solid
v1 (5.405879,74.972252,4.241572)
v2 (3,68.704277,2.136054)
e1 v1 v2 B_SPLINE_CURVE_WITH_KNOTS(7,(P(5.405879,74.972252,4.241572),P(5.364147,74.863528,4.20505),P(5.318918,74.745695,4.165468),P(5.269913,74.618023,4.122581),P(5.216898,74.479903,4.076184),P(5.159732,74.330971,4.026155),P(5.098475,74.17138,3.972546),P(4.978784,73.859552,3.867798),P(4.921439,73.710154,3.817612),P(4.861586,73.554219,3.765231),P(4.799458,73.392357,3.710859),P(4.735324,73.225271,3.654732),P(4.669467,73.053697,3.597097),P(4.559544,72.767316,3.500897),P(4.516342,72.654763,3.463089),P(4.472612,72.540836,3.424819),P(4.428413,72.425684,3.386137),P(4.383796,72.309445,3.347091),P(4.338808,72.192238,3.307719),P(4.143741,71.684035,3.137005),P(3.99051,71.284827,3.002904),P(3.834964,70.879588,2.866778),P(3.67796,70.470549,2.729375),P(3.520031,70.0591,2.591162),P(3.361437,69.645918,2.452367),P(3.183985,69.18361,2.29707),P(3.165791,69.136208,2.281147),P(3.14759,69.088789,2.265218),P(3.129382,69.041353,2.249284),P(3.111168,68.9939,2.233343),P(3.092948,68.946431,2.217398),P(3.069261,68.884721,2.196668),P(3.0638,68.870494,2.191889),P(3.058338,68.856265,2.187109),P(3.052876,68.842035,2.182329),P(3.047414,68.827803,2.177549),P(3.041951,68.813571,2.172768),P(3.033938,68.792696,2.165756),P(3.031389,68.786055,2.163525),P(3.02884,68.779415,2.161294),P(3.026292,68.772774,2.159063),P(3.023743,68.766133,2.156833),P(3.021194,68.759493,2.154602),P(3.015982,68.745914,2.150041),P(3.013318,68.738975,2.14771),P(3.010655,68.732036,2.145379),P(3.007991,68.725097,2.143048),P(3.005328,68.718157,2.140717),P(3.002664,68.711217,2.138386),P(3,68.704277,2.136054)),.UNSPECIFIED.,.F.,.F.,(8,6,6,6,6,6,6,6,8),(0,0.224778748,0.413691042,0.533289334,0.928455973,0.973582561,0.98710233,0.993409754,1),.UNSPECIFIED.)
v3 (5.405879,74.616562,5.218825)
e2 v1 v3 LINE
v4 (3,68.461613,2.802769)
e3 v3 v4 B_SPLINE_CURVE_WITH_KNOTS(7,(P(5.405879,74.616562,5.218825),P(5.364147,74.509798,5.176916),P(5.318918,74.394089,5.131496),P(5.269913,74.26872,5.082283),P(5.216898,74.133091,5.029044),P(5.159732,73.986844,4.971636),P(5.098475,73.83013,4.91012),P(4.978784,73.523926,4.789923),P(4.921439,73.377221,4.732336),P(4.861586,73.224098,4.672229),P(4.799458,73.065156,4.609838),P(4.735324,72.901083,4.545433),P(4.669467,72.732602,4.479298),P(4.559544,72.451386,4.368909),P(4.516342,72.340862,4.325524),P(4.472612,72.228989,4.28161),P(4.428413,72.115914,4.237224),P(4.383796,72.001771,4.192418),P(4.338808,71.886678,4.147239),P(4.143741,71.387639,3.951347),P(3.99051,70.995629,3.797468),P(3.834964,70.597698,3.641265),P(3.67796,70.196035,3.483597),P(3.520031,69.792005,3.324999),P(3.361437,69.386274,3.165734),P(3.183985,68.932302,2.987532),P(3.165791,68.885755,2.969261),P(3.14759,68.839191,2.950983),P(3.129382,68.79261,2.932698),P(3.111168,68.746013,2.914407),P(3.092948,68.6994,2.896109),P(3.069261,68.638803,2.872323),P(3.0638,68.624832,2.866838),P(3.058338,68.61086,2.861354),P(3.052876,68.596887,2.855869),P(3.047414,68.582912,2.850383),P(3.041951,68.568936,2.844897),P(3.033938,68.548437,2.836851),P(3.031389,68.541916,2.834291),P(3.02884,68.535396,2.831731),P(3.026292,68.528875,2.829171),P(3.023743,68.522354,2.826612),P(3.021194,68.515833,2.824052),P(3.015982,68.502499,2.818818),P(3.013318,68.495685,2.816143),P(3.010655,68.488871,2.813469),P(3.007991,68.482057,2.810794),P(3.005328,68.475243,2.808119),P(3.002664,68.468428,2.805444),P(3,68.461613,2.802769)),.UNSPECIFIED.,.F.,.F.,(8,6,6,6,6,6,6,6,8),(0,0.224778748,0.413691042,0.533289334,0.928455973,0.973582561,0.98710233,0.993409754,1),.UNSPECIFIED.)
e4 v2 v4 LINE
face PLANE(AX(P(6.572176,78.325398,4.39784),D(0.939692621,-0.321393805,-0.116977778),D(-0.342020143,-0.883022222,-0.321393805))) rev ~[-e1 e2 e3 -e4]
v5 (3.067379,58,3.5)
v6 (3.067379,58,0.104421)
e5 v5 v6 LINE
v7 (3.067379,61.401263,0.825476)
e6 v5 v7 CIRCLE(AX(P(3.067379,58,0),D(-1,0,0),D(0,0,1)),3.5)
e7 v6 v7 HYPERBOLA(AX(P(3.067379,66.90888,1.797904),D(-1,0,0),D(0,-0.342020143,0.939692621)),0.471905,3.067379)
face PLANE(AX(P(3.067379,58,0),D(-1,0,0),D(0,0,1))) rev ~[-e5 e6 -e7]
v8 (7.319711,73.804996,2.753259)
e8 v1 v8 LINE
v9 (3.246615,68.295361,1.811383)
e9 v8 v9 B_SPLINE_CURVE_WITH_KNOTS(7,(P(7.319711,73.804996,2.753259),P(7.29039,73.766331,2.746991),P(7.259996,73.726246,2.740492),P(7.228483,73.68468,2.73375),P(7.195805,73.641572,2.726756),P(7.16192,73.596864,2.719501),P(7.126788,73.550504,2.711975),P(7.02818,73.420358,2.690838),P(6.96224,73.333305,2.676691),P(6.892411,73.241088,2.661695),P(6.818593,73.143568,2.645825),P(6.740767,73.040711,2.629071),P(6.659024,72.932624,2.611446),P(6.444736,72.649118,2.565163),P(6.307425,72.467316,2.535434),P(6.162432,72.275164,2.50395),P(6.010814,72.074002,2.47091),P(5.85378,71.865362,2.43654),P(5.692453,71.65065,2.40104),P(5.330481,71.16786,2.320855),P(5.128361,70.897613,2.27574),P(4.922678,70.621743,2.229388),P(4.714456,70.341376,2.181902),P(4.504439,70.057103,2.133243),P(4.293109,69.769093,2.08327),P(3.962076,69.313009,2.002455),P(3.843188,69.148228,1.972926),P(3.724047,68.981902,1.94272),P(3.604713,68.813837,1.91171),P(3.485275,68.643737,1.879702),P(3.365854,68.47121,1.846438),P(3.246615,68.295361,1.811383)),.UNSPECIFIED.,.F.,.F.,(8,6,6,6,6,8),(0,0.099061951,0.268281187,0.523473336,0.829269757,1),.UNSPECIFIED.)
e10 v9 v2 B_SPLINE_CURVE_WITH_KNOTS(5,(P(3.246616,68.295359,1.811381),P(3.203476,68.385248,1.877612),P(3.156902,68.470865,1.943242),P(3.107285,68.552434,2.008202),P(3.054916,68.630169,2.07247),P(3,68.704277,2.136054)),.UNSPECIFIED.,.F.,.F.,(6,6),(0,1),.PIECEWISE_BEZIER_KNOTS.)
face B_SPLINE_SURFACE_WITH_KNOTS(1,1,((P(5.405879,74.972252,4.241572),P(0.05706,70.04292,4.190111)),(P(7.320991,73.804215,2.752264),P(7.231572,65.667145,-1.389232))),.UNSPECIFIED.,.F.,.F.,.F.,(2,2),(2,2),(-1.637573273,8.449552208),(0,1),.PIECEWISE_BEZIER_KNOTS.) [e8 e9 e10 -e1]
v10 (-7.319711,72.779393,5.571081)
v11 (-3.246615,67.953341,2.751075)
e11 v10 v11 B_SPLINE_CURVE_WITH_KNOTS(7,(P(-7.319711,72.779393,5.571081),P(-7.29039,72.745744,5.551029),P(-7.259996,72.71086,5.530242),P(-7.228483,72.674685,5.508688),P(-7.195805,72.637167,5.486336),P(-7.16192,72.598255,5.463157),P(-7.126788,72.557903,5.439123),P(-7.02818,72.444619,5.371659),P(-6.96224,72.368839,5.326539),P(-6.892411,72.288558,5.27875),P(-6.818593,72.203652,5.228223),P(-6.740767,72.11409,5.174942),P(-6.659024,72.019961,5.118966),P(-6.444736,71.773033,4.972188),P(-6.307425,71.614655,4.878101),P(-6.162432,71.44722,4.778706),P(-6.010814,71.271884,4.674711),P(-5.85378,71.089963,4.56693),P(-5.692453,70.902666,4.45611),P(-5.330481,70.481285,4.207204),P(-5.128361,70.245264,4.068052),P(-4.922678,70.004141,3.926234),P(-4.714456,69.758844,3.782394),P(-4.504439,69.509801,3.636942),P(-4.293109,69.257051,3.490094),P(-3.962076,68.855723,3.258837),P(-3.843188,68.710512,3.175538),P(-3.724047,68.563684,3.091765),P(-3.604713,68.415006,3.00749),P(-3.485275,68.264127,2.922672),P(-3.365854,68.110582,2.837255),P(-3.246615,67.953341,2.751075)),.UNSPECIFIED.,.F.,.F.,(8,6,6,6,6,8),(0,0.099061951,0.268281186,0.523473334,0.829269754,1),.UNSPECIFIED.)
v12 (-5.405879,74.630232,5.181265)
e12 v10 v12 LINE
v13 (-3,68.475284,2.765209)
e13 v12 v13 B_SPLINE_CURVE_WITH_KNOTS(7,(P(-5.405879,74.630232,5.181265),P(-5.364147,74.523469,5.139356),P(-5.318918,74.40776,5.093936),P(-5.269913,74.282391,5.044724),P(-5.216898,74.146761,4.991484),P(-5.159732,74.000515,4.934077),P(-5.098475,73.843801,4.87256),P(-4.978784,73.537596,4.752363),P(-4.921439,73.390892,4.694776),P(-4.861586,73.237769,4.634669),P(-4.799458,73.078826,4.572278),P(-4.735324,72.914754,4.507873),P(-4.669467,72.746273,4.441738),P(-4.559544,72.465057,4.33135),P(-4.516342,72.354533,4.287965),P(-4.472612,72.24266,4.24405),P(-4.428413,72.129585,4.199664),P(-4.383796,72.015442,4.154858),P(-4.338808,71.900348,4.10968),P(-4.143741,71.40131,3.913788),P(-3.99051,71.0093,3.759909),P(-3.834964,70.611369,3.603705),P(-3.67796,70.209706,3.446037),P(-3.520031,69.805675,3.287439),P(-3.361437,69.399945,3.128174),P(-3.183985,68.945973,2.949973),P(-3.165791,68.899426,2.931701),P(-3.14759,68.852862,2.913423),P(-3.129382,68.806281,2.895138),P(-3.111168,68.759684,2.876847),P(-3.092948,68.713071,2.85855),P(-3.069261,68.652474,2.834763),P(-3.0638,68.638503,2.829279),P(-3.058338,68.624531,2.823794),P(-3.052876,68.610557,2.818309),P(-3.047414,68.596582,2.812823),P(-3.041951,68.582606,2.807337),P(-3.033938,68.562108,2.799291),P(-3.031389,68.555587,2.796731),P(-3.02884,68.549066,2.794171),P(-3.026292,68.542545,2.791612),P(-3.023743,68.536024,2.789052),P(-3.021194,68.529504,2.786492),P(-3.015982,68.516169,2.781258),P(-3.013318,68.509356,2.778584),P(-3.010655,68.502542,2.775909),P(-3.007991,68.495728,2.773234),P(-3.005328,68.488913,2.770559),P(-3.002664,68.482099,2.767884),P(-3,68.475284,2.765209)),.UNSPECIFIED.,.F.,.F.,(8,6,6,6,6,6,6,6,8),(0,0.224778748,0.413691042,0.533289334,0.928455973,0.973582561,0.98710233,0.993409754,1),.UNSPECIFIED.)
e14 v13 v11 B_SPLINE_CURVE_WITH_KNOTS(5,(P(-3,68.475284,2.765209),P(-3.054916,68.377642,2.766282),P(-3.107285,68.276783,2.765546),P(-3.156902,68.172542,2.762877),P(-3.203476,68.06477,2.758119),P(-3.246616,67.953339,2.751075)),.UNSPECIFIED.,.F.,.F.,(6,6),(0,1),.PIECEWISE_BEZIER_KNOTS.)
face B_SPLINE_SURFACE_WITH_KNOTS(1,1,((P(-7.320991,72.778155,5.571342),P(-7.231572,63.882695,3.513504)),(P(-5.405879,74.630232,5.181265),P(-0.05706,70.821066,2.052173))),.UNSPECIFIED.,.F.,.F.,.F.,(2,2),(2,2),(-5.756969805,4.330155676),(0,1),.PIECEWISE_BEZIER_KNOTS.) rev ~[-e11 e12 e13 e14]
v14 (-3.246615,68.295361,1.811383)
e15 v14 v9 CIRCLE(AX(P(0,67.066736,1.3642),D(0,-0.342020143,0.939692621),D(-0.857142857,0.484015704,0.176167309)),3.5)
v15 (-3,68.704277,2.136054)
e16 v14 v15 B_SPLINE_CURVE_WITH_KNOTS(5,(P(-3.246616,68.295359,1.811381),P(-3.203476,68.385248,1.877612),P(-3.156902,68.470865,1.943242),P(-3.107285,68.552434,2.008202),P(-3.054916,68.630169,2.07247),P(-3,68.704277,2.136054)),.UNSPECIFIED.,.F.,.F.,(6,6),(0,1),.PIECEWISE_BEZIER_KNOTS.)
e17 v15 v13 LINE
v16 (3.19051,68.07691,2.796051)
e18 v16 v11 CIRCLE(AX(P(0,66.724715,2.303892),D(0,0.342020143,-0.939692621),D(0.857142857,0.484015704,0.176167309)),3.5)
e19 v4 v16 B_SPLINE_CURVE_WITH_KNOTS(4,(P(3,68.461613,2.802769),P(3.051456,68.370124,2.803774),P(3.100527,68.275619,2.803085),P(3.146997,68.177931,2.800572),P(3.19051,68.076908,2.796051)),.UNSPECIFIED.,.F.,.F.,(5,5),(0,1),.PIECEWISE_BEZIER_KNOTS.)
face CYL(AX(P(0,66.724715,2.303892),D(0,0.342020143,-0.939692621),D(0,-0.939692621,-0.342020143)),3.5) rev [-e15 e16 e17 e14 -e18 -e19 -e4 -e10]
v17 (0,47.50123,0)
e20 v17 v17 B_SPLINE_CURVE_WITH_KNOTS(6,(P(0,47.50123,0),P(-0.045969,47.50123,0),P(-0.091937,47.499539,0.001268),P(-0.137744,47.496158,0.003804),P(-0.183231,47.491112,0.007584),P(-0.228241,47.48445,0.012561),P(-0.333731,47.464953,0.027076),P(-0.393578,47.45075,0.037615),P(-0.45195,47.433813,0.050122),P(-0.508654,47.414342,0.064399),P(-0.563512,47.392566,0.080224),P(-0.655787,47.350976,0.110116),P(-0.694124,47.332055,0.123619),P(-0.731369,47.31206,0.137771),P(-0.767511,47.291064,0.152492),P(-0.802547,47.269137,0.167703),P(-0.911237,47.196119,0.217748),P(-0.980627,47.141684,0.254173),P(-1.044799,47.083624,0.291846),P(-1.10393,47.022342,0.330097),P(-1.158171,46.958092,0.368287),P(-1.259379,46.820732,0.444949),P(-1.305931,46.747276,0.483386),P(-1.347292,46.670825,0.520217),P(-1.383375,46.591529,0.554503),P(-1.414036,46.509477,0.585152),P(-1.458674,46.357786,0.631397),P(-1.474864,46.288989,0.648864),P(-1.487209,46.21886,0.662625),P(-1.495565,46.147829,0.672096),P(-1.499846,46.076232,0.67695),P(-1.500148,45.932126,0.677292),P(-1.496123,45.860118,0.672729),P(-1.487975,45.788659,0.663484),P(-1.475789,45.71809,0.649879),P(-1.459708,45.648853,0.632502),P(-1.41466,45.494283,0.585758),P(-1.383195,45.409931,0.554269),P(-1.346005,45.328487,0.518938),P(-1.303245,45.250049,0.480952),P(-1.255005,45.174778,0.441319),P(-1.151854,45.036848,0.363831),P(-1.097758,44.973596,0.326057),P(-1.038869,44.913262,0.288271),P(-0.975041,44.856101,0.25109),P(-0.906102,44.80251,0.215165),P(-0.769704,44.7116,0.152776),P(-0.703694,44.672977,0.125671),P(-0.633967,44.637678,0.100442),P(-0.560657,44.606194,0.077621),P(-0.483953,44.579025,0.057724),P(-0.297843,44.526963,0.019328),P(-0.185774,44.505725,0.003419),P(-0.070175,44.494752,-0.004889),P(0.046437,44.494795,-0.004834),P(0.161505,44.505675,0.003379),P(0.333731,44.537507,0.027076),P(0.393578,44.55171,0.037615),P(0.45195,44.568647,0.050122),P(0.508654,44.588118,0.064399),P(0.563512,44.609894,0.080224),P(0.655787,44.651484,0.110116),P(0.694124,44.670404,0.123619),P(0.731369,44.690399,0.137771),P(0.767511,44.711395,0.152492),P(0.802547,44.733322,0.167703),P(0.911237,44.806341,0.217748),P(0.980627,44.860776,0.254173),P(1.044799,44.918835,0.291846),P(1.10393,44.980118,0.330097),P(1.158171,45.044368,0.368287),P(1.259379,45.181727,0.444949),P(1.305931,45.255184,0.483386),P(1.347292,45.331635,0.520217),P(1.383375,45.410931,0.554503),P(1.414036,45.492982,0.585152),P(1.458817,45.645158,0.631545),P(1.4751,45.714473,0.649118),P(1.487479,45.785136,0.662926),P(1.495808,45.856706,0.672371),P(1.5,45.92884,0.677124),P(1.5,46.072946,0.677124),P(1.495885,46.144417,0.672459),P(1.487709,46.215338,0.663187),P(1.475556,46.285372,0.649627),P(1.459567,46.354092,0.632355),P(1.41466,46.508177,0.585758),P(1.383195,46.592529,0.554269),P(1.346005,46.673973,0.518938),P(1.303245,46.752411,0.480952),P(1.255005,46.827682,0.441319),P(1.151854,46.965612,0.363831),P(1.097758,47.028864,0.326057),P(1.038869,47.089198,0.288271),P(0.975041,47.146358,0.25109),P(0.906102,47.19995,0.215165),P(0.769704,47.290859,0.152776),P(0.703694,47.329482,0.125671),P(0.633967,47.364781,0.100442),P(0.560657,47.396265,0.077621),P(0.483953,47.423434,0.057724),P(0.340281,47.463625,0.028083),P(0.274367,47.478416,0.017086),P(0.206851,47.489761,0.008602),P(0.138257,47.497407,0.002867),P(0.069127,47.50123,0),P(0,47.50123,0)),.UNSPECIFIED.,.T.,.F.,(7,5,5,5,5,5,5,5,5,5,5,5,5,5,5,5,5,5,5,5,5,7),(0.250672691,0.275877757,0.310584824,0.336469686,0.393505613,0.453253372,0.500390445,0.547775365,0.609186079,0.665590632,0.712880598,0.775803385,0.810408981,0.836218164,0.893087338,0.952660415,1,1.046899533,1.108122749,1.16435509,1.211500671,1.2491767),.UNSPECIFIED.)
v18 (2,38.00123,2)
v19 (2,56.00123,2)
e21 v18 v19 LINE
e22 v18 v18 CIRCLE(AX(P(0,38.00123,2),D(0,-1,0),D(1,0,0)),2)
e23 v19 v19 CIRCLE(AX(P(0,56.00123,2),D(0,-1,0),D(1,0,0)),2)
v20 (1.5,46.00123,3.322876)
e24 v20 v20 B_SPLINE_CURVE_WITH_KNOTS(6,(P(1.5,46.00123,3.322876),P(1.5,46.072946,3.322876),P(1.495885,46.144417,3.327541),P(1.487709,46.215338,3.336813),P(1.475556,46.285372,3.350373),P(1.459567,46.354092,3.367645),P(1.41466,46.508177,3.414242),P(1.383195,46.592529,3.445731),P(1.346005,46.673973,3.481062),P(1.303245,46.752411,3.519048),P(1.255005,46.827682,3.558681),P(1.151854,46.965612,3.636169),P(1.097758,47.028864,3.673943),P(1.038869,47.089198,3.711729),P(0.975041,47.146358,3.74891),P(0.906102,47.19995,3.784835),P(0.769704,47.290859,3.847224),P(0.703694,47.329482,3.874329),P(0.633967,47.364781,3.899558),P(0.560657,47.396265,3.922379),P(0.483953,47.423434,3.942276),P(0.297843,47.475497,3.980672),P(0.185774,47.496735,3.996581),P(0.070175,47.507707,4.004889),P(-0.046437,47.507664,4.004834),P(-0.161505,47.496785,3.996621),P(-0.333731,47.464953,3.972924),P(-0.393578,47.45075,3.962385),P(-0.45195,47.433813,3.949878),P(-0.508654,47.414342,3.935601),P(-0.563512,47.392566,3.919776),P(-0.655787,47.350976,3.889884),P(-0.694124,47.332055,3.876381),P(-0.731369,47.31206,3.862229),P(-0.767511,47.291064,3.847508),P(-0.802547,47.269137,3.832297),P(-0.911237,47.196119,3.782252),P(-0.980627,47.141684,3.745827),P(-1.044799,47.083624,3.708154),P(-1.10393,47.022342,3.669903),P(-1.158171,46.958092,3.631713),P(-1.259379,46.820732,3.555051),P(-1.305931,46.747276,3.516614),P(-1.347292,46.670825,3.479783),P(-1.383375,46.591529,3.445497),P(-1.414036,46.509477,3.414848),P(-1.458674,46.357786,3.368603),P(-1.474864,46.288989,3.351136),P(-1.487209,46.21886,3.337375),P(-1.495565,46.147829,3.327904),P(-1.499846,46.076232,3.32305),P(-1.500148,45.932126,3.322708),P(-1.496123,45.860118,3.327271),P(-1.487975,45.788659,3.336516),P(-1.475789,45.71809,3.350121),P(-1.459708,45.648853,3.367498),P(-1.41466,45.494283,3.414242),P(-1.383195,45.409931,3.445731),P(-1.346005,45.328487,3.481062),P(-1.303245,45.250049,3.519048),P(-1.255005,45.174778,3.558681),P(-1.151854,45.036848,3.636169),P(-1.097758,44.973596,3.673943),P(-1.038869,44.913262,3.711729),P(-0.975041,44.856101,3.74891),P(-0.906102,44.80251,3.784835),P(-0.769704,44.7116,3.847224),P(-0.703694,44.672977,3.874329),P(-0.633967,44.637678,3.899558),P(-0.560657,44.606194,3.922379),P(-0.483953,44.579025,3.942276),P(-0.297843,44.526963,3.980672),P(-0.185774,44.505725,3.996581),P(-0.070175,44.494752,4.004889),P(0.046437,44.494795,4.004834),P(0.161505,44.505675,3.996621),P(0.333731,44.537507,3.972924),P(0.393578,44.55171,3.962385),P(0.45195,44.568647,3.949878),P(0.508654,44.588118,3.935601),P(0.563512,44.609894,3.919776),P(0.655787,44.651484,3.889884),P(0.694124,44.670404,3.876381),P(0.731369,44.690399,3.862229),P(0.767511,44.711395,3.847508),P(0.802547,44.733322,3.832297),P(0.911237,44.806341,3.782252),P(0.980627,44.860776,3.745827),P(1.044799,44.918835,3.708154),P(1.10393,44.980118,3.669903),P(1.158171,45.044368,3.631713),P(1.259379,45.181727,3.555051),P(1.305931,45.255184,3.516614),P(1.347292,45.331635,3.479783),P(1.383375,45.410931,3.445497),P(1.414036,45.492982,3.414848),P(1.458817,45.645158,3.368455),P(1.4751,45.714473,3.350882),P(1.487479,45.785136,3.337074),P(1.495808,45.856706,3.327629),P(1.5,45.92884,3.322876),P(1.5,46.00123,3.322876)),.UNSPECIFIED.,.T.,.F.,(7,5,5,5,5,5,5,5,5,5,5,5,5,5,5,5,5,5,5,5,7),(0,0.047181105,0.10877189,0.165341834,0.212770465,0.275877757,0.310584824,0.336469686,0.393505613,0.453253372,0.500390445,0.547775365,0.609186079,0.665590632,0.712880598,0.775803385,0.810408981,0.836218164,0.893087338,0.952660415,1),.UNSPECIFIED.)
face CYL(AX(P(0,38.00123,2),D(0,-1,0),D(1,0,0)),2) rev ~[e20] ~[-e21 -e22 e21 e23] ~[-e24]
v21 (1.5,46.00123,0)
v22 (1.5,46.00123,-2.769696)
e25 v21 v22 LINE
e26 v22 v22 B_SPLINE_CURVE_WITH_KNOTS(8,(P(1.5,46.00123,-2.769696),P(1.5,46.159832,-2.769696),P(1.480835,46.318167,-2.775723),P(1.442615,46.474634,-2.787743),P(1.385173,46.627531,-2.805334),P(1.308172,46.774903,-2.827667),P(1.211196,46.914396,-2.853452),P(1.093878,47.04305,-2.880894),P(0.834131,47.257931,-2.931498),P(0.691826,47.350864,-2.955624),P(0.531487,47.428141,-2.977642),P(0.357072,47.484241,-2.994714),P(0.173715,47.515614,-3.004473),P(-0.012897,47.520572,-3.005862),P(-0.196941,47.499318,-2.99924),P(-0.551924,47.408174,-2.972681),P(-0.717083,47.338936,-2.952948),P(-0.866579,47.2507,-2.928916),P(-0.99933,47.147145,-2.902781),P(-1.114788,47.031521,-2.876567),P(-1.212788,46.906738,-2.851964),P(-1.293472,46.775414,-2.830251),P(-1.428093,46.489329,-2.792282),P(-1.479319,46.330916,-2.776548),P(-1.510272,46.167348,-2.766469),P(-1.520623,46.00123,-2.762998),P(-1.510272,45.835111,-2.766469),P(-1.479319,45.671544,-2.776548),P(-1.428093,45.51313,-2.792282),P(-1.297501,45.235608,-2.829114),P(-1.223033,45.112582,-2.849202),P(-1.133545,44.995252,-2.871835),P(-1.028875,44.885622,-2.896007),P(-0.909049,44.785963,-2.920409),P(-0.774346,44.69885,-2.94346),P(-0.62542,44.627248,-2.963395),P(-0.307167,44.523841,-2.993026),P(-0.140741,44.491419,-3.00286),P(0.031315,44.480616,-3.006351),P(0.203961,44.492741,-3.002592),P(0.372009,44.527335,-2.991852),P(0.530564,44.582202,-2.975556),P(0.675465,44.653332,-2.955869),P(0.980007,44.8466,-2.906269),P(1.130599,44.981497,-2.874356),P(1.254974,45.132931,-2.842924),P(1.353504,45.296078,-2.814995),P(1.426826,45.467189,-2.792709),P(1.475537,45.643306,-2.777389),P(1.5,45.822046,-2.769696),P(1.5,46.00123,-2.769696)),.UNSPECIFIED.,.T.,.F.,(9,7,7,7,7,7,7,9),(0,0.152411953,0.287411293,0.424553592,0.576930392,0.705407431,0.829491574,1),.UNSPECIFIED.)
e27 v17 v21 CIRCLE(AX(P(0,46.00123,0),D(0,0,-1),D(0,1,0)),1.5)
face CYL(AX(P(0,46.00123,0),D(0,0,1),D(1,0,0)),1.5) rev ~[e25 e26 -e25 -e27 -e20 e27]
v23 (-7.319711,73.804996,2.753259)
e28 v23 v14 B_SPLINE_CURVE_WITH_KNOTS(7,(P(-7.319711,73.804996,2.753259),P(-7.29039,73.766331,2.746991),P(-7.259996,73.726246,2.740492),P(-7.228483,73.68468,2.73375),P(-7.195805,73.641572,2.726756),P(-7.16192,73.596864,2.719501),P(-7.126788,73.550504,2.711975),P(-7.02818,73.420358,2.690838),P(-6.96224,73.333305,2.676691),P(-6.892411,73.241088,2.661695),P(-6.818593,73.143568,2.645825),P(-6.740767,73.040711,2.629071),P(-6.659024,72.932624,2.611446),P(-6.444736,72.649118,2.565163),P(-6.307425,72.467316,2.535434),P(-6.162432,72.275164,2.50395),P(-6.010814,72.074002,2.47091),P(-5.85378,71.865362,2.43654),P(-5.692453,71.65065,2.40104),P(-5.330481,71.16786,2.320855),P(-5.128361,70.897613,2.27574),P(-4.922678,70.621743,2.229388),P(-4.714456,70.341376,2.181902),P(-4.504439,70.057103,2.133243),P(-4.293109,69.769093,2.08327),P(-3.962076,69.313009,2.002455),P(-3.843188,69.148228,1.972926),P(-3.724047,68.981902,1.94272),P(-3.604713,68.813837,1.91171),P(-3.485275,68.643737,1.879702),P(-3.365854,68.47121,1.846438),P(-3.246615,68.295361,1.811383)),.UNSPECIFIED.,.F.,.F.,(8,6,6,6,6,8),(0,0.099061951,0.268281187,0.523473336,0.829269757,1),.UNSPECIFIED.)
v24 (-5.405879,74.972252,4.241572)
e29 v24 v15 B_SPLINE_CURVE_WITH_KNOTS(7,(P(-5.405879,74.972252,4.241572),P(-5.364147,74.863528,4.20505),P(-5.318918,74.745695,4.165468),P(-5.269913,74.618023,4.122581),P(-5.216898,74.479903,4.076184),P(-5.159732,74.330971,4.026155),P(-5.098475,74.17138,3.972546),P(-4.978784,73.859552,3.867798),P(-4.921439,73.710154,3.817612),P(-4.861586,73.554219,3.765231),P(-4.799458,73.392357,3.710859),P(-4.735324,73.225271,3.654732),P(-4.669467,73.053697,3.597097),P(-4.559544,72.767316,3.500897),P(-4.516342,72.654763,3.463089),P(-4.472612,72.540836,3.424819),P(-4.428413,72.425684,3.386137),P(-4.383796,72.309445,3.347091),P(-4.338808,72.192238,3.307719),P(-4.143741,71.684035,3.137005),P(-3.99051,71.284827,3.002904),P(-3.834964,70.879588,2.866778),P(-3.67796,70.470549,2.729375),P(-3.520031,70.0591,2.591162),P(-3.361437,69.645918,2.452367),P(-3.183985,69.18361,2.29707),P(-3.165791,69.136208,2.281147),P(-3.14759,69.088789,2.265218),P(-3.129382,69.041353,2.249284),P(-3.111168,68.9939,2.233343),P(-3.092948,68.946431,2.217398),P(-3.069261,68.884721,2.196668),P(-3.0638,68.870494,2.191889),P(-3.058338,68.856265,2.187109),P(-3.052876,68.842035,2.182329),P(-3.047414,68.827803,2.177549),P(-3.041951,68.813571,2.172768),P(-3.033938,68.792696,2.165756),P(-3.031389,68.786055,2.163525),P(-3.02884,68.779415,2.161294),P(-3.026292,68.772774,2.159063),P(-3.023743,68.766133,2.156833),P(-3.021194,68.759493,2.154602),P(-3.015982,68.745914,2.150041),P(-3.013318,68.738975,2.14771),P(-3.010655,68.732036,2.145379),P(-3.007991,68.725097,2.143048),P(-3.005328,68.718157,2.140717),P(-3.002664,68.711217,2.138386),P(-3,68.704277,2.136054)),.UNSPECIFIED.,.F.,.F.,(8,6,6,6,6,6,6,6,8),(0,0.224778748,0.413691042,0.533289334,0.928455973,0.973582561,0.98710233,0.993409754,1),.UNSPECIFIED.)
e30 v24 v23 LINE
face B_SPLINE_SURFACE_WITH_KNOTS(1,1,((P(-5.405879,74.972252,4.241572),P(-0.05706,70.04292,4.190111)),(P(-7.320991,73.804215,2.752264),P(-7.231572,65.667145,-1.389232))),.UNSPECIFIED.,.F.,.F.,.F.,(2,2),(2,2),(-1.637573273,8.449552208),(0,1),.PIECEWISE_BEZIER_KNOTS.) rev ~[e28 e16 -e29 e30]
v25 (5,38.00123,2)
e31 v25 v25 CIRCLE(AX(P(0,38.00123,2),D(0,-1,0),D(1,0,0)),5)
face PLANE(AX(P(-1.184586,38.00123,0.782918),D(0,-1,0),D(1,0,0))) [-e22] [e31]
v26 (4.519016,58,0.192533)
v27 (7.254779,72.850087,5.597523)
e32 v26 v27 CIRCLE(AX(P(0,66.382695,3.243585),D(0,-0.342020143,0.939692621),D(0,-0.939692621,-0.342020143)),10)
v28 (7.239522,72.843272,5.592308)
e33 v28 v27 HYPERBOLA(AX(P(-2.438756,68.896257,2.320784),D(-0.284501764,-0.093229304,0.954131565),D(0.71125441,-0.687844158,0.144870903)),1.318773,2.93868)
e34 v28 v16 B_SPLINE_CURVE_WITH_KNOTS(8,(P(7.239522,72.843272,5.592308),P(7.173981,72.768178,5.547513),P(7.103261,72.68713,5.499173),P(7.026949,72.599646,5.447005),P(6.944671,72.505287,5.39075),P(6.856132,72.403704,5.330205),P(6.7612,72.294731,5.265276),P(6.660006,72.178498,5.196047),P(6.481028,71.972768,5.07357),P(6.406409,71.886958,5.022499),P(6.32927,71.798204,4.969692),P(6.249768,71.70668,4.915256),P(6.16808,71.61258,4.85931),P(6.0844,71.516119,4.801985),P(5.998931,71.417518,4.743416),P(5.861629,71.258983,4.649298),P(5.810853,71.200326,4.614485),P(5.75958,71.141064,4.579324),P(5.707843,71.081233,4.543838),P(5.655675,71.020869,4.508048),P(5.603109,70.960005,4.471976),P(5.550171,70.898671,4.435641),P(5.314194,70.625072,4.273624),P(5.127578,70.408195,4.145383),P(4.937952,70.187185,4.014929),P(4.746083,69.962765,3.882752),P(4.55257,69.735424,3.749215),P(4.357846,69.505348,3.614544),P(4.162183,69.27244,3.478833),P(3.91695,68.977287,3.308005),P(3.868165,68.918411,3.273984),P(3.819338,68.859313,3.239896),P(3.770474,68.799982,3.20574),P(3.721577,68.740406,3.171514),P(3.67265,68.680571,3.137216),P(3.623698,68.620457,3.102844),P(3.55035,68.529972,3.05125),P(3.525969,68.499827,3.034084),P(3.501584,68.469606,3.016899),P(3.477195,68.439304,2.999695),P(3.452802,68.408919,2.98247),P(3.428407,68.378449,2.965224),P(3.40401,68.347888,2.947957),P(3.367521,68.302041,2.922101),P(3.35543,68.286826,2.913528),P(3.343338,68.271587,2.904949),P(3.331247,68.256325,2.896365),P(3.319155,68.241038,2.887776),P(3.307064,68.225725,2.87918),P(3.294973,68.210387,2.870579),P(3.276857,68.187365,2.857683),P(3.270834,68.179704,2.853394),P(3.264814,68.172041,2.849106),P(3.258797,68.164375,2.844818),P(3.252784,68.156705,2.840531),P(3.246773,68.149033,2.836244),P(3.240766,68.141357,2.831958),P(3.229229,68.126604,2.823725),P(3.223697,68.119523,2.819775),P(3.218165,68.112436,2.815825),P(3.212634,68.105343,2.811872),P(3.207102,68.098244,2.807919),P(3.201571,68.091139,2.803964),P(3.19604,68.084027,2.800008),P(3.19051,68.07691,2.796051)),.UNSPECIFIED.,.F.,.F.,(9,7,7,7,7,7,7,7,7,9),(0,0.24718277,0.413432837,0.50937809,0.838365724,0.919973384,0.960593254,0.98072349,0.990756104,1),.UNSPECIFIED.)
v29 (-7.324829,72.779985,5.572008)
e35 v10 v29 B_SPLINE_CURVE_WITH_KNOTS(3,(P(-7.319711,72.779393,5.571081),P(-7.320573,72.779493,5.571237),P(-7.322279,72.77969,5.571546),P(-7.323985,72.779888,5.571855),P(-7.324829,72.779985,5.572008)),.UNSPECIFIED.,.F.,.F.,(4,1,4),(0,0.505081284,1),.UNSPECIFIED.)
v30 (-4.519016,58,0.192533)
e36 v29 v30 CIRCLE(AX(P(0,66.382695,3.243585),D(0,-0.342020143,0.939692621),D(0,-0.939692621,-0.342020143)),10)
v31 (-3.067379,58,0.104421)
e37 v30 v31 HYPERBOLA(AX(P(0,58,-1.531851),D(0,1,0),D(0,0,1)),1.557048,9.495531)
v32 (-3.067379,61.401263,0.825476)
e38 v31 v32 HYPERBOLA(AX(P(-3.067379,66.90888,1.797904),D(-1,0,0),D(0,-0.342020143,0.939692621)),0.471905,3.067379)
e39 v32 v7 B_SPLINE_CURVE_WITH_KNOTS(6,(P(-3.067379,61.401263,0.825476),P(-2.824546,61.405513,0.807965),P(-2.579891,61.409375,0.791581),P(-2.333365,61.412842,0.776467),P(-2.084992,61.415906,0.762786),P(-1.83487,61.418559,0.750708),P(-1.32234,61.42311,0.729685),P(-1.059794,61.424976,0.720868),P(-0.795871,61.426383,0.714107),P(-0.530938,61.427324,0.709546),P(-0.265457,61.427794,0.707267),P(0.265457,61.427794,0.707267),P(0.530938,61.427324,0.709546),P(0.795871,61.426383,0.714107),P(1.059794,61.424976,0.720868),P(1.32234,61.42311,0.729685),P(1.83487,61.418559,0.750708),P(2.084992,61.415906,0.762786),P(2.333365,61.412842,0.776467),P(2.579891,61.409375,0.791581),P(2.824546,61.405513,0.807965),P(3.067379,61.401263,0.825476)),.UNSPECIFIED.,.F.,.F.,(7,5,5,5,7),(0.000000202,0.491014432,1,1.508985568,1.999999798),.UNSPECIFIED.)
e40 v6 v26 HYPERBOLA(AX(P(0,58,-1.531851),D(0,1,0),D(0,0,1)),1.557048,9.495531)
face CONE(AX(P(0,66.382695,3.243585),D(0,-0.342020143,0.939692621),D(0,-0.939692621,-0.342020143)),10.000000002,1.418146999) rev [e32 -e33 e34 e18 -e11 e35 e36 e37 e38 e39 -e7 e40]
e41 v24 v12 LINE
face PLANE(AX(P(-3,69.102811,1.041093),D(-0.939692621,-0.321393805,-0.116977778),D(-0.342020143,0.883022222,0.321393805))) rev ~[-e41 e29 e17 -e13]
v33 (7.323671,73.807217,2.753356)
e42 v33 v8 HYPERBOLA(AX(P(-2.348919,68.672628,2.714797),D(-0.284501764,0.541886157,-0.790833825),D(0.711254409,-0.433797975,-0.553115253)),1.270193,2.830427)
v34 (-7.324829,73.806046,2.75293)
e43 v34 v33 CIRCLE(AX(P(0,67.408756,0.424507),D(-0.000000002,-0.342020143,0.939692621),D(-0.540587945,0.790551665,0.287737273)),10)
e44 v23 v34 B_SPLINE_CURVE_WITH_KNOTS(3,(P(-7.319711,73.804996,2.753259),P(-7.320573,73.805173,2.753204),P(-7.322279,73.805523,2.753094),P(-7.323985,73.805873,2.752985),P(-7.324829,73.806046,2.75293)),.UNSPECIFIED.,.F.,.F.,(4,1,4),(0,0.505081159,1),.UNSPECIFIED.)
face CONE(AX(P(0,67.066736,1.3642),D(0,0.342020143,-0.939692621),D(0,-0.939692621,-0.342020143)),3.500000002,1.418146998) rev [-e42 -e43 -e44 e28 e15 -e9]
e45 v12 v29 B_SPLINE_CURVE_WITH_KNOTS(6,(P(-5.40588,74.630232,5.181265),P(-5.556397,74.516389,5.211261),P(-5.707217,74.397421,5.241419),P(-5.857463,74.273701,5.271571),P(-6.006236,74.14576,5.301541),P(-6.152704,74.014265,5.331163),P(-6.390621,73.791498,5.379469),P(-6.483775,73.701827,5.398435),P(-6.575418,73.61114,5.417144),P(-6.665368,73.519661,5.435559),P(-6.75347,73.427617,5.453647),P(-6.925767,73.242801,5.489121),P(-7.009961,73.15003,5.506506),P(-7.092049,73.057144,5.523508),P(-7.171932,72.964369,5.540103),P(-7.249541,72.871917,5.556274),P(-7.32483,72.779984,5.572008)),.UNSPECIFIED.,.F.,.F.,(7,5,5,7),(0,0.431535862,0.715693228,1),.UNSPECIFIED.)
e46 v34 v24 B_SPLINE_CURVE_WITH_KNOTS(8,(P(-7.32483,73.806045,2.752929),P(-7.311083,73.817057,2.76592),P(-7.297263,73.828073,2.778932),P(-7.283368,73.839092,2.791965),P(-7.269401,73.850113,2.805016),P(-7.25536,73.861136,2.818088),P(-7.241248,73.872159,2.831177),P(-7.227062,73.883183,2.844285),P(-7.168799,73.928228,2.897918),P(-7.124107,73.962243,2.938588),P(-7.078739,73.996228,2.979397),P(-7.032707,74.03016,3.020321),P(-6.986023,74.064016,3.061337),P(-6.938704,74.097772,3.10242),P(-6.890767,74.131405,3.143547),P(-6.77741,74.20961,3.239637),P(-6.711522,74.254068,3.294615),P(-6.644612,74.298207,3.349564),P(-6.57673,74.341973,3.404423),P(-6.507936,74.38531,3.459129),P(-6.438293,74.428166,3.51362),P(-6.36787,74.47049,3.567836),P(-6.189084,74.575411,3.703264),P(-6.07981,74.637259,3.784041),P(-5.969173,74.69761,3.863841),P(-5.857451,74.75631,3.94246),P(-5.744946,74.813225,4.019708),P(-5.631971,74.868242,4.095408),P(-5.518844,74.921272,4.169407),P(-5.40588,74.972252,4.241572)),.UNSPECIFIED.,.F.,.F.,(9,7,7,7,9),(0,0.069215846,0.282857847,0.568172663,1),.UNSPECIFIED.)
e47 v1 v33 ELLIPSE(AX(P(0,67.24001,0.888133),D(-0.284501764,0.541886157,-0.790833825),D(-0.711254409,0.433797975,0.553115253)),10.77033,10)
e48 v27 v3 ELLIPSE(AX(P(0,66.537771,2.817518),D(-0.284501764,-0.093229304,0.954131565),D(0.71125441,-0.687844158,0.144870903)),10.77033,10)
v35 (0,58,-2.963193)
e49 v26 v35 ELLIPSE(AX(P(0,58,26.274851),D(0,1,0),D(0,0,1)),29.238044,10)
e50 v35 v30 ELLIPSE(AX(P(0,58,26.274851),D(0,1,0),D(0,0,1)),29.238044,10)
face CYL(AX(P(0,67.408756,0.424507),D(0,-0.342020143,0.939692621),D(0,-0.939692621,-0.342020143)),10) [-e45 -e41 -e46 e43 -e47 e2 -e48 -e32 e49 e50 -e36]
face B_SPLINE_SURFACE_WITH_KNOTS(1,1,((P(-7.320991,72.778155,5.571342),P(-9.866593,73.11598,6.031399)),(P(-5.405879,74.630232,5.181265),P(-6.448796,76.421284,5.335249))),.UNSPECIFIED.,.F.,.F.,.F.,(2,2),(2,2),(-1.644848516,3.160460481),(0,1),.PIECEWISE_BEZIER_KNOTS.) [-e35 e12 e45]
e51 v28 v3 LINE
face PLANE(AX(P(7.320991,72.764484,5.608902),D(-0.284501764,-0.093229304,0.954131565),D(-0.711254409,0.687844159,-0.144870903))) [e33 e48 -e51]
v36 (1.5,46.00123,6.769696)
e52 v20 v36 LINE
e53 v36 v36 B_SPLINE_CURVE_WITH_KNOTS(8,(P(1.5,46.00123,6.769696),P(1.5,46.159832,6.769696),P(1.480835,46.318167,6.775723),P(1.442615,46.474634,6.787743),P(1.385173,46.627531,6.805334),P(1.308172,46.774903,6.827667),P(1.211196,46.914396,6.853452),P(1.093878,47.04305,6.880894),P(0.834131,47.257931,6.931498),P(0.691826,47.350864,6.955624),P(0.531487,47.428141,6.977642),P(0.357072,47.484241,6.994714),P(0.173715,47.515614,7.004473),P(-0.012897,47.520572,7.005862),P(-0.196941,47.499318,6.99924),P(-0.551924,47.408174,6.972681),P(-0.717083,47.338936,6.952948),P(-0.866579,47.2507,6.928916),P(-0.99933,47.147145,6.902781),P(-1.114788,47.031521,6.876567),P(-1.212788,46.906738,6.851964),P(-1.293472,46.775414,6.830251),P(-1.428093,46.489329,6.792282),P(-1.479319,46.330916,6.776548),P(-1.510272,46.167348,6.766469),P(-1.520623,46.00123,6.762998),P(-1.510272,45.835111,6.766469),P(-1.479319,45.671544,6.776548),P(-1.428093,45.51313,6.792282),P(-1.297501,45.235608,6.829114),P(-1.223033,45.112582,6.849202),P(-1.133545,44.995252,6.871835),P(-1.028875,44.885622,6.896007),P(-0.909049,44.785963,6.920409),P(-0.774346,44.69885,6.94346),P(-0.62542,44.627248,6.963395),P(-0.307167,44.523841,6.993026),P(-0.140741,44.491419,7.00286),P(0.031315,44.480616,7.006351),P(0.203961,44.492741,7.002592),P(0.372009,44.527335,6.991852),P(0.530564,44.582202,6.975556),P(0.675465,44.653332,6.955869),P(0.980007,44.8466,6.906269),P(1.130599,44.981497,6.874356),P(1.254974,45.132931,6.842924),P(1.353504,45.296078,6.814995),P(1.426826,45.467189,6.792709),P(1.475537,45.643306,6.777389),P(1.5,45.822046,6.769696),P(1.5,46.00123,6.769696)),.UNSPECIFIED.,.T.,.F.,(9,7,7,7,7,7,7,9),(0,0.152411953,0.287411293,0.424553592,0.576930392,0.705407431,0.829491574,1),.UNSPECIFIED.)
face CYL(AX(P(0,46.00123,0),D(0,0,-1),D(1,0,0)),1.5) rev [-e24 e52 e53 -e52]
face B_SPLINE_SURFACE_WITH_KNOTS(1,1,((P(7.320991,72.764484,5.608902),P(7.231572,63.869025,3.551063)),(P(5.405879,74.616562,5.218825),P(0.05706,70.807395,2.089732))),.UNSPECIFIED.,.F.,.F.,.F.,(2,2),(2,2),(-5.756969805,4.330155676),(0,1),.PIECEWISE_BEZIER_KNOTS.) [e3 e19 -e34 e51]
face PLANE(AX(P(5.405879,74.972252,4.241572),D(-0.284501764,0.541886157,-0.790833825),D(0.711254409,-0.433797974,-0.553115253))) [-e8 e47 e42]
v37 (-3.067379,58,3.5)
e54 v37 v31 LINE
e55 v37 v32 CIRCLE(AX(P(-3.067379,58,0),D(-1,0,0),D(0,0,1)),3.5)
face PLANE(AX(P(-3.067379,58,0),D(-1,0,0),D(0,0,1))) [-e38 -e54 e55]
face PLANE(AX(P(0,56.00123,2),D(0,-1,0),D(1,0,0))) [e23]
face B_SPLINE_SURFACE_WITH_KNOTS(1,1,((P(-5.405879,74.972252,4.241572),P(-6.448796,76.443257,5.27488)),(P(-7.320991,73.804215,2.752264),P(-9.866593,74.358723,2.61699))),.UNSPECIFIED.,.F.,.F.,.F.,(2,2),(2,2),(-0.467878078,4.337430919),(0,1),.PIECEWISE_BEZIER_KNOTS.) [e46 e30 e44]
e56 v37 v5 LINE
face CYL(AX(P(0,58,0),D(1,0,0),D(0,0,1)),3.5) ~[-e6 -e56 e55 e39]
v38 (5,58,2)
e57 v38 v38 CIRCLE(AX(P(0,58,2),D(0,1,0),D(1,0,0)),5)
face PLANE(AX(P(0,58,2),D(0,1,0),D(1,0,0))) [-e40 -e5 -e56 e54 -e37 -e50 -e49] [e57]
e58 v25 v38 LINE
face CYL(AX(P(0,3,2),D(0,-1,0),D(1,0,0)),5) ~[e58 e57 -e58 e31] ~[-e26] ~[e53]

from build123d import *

# Parameters (mm, degrees)
SKETCH1_W                    = 30
SKETCH1_H                    = 30
BOSS_EXTRUDE1_DEPTH          = 3
SKETCH2_R                    = 5
BOSS_EXTRUDE2_DEPTH          = 55
CUT_EXTRUDE2_DEPTH           = 55
CUT_EXTRUDE3_DEPTH           = 7
CUT_EXTRUDE3_TAPER           = -9
CUT_EXTRUDE3_OTHER_WAY_DEPTH = 2
CUT_EXTRUDE4_DEPTH           = 7
CUT_EXTRUDE4_TAPER           = -9
CUT_EXTRUDE4_OTHER_WAY_DEPTH = 2
CUT_EXTRUDE4_OTHER_WAY_TAPER = -9
SKETCH11_W                   = 42.456870871
SKETCH11_H                   = 39.887112897
CUT_EXTRUDE5_DEPTH           = 16
CUT_EXTRUDE5_DEPTH_BACK      = 16
SKETCH12_W                   = 30
SKETCH12_H                   = 30
BOSS_EXTRUDE3_DEPTH          = 3
SKETCH13_W                   = 6.134758984
SKETCH13_H                   = 3.5
REVOLVE3_ANGLE               = 90
SKETCH14_W                   = 34.327932252
SKETCH14_H                   = 34.043423274
CUT_EXTRUDE6_DEPTH           = 3.3
SKETCH17_R                   = 2
CUT_EXTRUDE7_DEPTH           = 18
SKETCH18_R                   = 1.5
CUT_EXTRUDE8_DEPTH           = 8
CUT_EXTRUDE8_DEPTH_BACK      = 4


with BuildPart() as part:
    # Sketch1 → Boss-Extrude1 (new body)
    with BuildSketch(Plane(origin=(0, 0, 0), x_dir=(1, 0, 0), z_dir=(0, 1, 0))):
        Rectangle(SKETCH1_W, SKETCH1_H)
    extrude(amount=BOSS_EXTRUDE1_DEPTH)

    # Sketch2 → Boss-Extrude2 (add)
    with BuildSketch(Plane(origin=(0, 3, 0), x_dir=(1, 0, 0), z_dir=(0, 1, 0))):
        with Locations((0, -2)):
            Circle(SKETCH2_R)
    extrude(amount=BOSS_EXTRUDE2_DEPTH)

    # Sketch4 → Revolve1 (revolve)
    with BuildSketch(Plane(origin=(0, 0, 0), x_dir=(0, 0, -1), z_dir=(1, 0, 0))):
        Polygon((2.995694392, 58.01182956), (0.17661653, 56.98576913), (-1.106821781, 63.435791308), (-0.16712916, 63.777811451), align=None)
    revolve(axis=Axis((0, 68.333514617, -2.116247015), (0, -0.342020143, 0.939692621)))

    # Sketch5 → Cut-Extrude2 (cut)
    with BuildSketch(Plane(origin=(0, 7.748892564, -21.289907346), x_dir=(1, 0, 0), z_dir=(0, 0.342020143, -0.939692621))):
        Polygon((-3, -65.291475968), (-6.572175958, -75.105948751), (6.572175958, -75.105948751), (3, -65.291475968), align=None)
    extrude(amount=-CUT_EXTRUDE2_DEPTH, mode=Mode.SUBTRACT)

    # Sketch6 → Cut-Extrude3 (cut)
    with BuildSketch(Plane(origin=(37.638193634, 42.150337699, 15.341468287), x_dir=(0, -0.342020143, 0.939692621), z_dir=(0.64278761, 0.71984631, 0.26200263))):
        Polygon((-22.656246175, -42.076297889), (-21.656246175, -42.076297889), (-22.656246175, -39.576297889), align=None)
        Polygon((-19.616275943, -42.076297889), (-19.616275943, -39.576297889), (-20.616275943, -42.076297889), align=None)
    extrude(amount=-CUT_EXTRUDE3_DEPTH, taper=CUT_EXTRUDE3_TAPER, mode=Mode.SUBTRACT)

    # Sketch6 → Cut-Extrude3 other way (cut)
    with BuildSketch(Plane(origin=(37.638193634, 42.150337699, 15.341468287), x_dir=(0, -0.342020143, 0.939692621), z_dir=(0.64278761, 0.71984631, 0.26200263))):
        Polygon((-22.656246175, -42.076297889), (-21.656246175, -42.076297889), (-22.656246175, -39.576297889), align=None)
        Polygon((-19.616275943, -42.076297889), (-19.616275943, -39.576297889), (-20.616275943, -42.076297889), align=None)
    extrude(amount=CUT_EXTRUDE3_OTHER_WAY_DEPTH, mode=Mode.SUBTRACT)

    # Sketch8 → Cut-Extrude4 (cut)
    with BuildSketch(Plane(origin=(-37.638193634, 42.150337699, 15.341468287), x_dir=(0, 0.342020143, -0.939692621), z_dir=(0.64278761, -0.71984631, -0.26200263))):
        Polygon((22.656246175, 42.076297889), (21.656246175, 42.076297889), (22.656246175, 39.576297889), align=None)
        Polygon((20.656246175, 42.076297889), (19.656246175, 42.076297889), (19.656246175, 39.576297889), align=None)
    extrude(amount=CUT_EXTRUDE4_DEPTH, taper=CUT_EXTRUDE4_TAPER, mode=Mode.SUBTRACT)

    # Sketch8 → Cut-Extrude4 other way (cut)
    with BuildSketch(Plane(origin=(-37.638193634, 42.150337699, 15.341468287), x_dir=(0, 0.342020143, -0.939692621), z_dir=(0.64278761, -0.71984631, -0.26200263))):
        Polygon((22.656246175, 42.076297889), (21.656246175, 42.076297889), (22.656246175, 39.576297889), align=None)
        Polygon((20.656246175, 42.076297889), (19.656246175, 42.076297889), (19.656246175, 39.576297889), align=None)
    extrude(amount=-CUT_EXTRUDE4_OTHER_WAY_DEPTH, taper=CUT_EXTRUDE4_OTHER_WAY_TAPER, mode=Mode.SUBTRACT)

    # Sketch11 → Cut-Extrude5 (cut, two sides)
    with BuildSketch(Plane(origin=(0, 0, 0), x_dir=(0, 0, -1), z_dir=(1, 0, 0))) as cut_extrude5_sk:
        with Locations((2.849079493, 17.75767337)):
            Rectangle(SKETCH11_W, SKETCH11_H)
    extrude(amount=CUT_EXTRUDE5_DEPTH, mode=Mode.SUBTRACT)
    extrude(cut_extrude5_sk.sketch, amount=-CUT_EXTRUDE5_DEPTH_BACK, mode=Mode.SUBTRACT)

    # Sketch12 → Boss-Extrude3 (add)
    with BuildSketch(Plane.XZ.offset(-37.701229818)):
        Rectangle(SKETCH12_W, SKETCH12_H)
    extrude(amount=BOSS_EXTRUDE3_DEPTH)

    # Sketch13 → Revolve3 (revolve)
    with BuildSketch(Plane(origin=(0, 58, 0), x_dir=(1, 0, 0), z_dir=(0, 1, 0))):
        with Locations((0, -1.75)):
            Rectangle(SKETCH13_W, SKETCH13_H)
    revolve(axis=Axis((-3.067379492, 58, 0), (-1, 0, 0)), revolution_arc=REVOLVE3_ANGLE)

    # Sketch14 → Cut-Extrude6 (cut)
    with BuildSketch(Plane.XZ.offset(-34.701229818)):
        with Locations((-1.184585751, 0.782917941)):
            Rectangle(SKETCH14_W, SKETCH14_H)
    extrude(amount=-CUT_EXTRUDE6_DEPTH, mode=Mode.SUBTRACT)

    # Sketch17 → Cut-Extrude7 (cut)
    with BuildSketch(Plane.XZ.offset(-38.001229818)):
        with Locations((0, 2)):
            Circle(SKETCH17_R)
    extrude(amount=-CUT_EXTRUDE7_DEPTH, mode=Mode.SUBTRACT)

    # Sketch18 → Cut-Extrude8 (cut, two sides)
    with BuildSketch(Plane.XY) as cut_extrude8_sk:
        with Locations((0, 46.001229818)):
            Circle(SKETCH18_R)
    extrude(amount=CUT_EXTRUDE8_DEPTH, mode=Mode.SUBTRACT)
    extrude(cut_extrude8_sk.sketch, amount=-CUT_EXTRUDE8_DEPTH_BACK, mode=Mode.SUBTRACT)


solid = part.part
